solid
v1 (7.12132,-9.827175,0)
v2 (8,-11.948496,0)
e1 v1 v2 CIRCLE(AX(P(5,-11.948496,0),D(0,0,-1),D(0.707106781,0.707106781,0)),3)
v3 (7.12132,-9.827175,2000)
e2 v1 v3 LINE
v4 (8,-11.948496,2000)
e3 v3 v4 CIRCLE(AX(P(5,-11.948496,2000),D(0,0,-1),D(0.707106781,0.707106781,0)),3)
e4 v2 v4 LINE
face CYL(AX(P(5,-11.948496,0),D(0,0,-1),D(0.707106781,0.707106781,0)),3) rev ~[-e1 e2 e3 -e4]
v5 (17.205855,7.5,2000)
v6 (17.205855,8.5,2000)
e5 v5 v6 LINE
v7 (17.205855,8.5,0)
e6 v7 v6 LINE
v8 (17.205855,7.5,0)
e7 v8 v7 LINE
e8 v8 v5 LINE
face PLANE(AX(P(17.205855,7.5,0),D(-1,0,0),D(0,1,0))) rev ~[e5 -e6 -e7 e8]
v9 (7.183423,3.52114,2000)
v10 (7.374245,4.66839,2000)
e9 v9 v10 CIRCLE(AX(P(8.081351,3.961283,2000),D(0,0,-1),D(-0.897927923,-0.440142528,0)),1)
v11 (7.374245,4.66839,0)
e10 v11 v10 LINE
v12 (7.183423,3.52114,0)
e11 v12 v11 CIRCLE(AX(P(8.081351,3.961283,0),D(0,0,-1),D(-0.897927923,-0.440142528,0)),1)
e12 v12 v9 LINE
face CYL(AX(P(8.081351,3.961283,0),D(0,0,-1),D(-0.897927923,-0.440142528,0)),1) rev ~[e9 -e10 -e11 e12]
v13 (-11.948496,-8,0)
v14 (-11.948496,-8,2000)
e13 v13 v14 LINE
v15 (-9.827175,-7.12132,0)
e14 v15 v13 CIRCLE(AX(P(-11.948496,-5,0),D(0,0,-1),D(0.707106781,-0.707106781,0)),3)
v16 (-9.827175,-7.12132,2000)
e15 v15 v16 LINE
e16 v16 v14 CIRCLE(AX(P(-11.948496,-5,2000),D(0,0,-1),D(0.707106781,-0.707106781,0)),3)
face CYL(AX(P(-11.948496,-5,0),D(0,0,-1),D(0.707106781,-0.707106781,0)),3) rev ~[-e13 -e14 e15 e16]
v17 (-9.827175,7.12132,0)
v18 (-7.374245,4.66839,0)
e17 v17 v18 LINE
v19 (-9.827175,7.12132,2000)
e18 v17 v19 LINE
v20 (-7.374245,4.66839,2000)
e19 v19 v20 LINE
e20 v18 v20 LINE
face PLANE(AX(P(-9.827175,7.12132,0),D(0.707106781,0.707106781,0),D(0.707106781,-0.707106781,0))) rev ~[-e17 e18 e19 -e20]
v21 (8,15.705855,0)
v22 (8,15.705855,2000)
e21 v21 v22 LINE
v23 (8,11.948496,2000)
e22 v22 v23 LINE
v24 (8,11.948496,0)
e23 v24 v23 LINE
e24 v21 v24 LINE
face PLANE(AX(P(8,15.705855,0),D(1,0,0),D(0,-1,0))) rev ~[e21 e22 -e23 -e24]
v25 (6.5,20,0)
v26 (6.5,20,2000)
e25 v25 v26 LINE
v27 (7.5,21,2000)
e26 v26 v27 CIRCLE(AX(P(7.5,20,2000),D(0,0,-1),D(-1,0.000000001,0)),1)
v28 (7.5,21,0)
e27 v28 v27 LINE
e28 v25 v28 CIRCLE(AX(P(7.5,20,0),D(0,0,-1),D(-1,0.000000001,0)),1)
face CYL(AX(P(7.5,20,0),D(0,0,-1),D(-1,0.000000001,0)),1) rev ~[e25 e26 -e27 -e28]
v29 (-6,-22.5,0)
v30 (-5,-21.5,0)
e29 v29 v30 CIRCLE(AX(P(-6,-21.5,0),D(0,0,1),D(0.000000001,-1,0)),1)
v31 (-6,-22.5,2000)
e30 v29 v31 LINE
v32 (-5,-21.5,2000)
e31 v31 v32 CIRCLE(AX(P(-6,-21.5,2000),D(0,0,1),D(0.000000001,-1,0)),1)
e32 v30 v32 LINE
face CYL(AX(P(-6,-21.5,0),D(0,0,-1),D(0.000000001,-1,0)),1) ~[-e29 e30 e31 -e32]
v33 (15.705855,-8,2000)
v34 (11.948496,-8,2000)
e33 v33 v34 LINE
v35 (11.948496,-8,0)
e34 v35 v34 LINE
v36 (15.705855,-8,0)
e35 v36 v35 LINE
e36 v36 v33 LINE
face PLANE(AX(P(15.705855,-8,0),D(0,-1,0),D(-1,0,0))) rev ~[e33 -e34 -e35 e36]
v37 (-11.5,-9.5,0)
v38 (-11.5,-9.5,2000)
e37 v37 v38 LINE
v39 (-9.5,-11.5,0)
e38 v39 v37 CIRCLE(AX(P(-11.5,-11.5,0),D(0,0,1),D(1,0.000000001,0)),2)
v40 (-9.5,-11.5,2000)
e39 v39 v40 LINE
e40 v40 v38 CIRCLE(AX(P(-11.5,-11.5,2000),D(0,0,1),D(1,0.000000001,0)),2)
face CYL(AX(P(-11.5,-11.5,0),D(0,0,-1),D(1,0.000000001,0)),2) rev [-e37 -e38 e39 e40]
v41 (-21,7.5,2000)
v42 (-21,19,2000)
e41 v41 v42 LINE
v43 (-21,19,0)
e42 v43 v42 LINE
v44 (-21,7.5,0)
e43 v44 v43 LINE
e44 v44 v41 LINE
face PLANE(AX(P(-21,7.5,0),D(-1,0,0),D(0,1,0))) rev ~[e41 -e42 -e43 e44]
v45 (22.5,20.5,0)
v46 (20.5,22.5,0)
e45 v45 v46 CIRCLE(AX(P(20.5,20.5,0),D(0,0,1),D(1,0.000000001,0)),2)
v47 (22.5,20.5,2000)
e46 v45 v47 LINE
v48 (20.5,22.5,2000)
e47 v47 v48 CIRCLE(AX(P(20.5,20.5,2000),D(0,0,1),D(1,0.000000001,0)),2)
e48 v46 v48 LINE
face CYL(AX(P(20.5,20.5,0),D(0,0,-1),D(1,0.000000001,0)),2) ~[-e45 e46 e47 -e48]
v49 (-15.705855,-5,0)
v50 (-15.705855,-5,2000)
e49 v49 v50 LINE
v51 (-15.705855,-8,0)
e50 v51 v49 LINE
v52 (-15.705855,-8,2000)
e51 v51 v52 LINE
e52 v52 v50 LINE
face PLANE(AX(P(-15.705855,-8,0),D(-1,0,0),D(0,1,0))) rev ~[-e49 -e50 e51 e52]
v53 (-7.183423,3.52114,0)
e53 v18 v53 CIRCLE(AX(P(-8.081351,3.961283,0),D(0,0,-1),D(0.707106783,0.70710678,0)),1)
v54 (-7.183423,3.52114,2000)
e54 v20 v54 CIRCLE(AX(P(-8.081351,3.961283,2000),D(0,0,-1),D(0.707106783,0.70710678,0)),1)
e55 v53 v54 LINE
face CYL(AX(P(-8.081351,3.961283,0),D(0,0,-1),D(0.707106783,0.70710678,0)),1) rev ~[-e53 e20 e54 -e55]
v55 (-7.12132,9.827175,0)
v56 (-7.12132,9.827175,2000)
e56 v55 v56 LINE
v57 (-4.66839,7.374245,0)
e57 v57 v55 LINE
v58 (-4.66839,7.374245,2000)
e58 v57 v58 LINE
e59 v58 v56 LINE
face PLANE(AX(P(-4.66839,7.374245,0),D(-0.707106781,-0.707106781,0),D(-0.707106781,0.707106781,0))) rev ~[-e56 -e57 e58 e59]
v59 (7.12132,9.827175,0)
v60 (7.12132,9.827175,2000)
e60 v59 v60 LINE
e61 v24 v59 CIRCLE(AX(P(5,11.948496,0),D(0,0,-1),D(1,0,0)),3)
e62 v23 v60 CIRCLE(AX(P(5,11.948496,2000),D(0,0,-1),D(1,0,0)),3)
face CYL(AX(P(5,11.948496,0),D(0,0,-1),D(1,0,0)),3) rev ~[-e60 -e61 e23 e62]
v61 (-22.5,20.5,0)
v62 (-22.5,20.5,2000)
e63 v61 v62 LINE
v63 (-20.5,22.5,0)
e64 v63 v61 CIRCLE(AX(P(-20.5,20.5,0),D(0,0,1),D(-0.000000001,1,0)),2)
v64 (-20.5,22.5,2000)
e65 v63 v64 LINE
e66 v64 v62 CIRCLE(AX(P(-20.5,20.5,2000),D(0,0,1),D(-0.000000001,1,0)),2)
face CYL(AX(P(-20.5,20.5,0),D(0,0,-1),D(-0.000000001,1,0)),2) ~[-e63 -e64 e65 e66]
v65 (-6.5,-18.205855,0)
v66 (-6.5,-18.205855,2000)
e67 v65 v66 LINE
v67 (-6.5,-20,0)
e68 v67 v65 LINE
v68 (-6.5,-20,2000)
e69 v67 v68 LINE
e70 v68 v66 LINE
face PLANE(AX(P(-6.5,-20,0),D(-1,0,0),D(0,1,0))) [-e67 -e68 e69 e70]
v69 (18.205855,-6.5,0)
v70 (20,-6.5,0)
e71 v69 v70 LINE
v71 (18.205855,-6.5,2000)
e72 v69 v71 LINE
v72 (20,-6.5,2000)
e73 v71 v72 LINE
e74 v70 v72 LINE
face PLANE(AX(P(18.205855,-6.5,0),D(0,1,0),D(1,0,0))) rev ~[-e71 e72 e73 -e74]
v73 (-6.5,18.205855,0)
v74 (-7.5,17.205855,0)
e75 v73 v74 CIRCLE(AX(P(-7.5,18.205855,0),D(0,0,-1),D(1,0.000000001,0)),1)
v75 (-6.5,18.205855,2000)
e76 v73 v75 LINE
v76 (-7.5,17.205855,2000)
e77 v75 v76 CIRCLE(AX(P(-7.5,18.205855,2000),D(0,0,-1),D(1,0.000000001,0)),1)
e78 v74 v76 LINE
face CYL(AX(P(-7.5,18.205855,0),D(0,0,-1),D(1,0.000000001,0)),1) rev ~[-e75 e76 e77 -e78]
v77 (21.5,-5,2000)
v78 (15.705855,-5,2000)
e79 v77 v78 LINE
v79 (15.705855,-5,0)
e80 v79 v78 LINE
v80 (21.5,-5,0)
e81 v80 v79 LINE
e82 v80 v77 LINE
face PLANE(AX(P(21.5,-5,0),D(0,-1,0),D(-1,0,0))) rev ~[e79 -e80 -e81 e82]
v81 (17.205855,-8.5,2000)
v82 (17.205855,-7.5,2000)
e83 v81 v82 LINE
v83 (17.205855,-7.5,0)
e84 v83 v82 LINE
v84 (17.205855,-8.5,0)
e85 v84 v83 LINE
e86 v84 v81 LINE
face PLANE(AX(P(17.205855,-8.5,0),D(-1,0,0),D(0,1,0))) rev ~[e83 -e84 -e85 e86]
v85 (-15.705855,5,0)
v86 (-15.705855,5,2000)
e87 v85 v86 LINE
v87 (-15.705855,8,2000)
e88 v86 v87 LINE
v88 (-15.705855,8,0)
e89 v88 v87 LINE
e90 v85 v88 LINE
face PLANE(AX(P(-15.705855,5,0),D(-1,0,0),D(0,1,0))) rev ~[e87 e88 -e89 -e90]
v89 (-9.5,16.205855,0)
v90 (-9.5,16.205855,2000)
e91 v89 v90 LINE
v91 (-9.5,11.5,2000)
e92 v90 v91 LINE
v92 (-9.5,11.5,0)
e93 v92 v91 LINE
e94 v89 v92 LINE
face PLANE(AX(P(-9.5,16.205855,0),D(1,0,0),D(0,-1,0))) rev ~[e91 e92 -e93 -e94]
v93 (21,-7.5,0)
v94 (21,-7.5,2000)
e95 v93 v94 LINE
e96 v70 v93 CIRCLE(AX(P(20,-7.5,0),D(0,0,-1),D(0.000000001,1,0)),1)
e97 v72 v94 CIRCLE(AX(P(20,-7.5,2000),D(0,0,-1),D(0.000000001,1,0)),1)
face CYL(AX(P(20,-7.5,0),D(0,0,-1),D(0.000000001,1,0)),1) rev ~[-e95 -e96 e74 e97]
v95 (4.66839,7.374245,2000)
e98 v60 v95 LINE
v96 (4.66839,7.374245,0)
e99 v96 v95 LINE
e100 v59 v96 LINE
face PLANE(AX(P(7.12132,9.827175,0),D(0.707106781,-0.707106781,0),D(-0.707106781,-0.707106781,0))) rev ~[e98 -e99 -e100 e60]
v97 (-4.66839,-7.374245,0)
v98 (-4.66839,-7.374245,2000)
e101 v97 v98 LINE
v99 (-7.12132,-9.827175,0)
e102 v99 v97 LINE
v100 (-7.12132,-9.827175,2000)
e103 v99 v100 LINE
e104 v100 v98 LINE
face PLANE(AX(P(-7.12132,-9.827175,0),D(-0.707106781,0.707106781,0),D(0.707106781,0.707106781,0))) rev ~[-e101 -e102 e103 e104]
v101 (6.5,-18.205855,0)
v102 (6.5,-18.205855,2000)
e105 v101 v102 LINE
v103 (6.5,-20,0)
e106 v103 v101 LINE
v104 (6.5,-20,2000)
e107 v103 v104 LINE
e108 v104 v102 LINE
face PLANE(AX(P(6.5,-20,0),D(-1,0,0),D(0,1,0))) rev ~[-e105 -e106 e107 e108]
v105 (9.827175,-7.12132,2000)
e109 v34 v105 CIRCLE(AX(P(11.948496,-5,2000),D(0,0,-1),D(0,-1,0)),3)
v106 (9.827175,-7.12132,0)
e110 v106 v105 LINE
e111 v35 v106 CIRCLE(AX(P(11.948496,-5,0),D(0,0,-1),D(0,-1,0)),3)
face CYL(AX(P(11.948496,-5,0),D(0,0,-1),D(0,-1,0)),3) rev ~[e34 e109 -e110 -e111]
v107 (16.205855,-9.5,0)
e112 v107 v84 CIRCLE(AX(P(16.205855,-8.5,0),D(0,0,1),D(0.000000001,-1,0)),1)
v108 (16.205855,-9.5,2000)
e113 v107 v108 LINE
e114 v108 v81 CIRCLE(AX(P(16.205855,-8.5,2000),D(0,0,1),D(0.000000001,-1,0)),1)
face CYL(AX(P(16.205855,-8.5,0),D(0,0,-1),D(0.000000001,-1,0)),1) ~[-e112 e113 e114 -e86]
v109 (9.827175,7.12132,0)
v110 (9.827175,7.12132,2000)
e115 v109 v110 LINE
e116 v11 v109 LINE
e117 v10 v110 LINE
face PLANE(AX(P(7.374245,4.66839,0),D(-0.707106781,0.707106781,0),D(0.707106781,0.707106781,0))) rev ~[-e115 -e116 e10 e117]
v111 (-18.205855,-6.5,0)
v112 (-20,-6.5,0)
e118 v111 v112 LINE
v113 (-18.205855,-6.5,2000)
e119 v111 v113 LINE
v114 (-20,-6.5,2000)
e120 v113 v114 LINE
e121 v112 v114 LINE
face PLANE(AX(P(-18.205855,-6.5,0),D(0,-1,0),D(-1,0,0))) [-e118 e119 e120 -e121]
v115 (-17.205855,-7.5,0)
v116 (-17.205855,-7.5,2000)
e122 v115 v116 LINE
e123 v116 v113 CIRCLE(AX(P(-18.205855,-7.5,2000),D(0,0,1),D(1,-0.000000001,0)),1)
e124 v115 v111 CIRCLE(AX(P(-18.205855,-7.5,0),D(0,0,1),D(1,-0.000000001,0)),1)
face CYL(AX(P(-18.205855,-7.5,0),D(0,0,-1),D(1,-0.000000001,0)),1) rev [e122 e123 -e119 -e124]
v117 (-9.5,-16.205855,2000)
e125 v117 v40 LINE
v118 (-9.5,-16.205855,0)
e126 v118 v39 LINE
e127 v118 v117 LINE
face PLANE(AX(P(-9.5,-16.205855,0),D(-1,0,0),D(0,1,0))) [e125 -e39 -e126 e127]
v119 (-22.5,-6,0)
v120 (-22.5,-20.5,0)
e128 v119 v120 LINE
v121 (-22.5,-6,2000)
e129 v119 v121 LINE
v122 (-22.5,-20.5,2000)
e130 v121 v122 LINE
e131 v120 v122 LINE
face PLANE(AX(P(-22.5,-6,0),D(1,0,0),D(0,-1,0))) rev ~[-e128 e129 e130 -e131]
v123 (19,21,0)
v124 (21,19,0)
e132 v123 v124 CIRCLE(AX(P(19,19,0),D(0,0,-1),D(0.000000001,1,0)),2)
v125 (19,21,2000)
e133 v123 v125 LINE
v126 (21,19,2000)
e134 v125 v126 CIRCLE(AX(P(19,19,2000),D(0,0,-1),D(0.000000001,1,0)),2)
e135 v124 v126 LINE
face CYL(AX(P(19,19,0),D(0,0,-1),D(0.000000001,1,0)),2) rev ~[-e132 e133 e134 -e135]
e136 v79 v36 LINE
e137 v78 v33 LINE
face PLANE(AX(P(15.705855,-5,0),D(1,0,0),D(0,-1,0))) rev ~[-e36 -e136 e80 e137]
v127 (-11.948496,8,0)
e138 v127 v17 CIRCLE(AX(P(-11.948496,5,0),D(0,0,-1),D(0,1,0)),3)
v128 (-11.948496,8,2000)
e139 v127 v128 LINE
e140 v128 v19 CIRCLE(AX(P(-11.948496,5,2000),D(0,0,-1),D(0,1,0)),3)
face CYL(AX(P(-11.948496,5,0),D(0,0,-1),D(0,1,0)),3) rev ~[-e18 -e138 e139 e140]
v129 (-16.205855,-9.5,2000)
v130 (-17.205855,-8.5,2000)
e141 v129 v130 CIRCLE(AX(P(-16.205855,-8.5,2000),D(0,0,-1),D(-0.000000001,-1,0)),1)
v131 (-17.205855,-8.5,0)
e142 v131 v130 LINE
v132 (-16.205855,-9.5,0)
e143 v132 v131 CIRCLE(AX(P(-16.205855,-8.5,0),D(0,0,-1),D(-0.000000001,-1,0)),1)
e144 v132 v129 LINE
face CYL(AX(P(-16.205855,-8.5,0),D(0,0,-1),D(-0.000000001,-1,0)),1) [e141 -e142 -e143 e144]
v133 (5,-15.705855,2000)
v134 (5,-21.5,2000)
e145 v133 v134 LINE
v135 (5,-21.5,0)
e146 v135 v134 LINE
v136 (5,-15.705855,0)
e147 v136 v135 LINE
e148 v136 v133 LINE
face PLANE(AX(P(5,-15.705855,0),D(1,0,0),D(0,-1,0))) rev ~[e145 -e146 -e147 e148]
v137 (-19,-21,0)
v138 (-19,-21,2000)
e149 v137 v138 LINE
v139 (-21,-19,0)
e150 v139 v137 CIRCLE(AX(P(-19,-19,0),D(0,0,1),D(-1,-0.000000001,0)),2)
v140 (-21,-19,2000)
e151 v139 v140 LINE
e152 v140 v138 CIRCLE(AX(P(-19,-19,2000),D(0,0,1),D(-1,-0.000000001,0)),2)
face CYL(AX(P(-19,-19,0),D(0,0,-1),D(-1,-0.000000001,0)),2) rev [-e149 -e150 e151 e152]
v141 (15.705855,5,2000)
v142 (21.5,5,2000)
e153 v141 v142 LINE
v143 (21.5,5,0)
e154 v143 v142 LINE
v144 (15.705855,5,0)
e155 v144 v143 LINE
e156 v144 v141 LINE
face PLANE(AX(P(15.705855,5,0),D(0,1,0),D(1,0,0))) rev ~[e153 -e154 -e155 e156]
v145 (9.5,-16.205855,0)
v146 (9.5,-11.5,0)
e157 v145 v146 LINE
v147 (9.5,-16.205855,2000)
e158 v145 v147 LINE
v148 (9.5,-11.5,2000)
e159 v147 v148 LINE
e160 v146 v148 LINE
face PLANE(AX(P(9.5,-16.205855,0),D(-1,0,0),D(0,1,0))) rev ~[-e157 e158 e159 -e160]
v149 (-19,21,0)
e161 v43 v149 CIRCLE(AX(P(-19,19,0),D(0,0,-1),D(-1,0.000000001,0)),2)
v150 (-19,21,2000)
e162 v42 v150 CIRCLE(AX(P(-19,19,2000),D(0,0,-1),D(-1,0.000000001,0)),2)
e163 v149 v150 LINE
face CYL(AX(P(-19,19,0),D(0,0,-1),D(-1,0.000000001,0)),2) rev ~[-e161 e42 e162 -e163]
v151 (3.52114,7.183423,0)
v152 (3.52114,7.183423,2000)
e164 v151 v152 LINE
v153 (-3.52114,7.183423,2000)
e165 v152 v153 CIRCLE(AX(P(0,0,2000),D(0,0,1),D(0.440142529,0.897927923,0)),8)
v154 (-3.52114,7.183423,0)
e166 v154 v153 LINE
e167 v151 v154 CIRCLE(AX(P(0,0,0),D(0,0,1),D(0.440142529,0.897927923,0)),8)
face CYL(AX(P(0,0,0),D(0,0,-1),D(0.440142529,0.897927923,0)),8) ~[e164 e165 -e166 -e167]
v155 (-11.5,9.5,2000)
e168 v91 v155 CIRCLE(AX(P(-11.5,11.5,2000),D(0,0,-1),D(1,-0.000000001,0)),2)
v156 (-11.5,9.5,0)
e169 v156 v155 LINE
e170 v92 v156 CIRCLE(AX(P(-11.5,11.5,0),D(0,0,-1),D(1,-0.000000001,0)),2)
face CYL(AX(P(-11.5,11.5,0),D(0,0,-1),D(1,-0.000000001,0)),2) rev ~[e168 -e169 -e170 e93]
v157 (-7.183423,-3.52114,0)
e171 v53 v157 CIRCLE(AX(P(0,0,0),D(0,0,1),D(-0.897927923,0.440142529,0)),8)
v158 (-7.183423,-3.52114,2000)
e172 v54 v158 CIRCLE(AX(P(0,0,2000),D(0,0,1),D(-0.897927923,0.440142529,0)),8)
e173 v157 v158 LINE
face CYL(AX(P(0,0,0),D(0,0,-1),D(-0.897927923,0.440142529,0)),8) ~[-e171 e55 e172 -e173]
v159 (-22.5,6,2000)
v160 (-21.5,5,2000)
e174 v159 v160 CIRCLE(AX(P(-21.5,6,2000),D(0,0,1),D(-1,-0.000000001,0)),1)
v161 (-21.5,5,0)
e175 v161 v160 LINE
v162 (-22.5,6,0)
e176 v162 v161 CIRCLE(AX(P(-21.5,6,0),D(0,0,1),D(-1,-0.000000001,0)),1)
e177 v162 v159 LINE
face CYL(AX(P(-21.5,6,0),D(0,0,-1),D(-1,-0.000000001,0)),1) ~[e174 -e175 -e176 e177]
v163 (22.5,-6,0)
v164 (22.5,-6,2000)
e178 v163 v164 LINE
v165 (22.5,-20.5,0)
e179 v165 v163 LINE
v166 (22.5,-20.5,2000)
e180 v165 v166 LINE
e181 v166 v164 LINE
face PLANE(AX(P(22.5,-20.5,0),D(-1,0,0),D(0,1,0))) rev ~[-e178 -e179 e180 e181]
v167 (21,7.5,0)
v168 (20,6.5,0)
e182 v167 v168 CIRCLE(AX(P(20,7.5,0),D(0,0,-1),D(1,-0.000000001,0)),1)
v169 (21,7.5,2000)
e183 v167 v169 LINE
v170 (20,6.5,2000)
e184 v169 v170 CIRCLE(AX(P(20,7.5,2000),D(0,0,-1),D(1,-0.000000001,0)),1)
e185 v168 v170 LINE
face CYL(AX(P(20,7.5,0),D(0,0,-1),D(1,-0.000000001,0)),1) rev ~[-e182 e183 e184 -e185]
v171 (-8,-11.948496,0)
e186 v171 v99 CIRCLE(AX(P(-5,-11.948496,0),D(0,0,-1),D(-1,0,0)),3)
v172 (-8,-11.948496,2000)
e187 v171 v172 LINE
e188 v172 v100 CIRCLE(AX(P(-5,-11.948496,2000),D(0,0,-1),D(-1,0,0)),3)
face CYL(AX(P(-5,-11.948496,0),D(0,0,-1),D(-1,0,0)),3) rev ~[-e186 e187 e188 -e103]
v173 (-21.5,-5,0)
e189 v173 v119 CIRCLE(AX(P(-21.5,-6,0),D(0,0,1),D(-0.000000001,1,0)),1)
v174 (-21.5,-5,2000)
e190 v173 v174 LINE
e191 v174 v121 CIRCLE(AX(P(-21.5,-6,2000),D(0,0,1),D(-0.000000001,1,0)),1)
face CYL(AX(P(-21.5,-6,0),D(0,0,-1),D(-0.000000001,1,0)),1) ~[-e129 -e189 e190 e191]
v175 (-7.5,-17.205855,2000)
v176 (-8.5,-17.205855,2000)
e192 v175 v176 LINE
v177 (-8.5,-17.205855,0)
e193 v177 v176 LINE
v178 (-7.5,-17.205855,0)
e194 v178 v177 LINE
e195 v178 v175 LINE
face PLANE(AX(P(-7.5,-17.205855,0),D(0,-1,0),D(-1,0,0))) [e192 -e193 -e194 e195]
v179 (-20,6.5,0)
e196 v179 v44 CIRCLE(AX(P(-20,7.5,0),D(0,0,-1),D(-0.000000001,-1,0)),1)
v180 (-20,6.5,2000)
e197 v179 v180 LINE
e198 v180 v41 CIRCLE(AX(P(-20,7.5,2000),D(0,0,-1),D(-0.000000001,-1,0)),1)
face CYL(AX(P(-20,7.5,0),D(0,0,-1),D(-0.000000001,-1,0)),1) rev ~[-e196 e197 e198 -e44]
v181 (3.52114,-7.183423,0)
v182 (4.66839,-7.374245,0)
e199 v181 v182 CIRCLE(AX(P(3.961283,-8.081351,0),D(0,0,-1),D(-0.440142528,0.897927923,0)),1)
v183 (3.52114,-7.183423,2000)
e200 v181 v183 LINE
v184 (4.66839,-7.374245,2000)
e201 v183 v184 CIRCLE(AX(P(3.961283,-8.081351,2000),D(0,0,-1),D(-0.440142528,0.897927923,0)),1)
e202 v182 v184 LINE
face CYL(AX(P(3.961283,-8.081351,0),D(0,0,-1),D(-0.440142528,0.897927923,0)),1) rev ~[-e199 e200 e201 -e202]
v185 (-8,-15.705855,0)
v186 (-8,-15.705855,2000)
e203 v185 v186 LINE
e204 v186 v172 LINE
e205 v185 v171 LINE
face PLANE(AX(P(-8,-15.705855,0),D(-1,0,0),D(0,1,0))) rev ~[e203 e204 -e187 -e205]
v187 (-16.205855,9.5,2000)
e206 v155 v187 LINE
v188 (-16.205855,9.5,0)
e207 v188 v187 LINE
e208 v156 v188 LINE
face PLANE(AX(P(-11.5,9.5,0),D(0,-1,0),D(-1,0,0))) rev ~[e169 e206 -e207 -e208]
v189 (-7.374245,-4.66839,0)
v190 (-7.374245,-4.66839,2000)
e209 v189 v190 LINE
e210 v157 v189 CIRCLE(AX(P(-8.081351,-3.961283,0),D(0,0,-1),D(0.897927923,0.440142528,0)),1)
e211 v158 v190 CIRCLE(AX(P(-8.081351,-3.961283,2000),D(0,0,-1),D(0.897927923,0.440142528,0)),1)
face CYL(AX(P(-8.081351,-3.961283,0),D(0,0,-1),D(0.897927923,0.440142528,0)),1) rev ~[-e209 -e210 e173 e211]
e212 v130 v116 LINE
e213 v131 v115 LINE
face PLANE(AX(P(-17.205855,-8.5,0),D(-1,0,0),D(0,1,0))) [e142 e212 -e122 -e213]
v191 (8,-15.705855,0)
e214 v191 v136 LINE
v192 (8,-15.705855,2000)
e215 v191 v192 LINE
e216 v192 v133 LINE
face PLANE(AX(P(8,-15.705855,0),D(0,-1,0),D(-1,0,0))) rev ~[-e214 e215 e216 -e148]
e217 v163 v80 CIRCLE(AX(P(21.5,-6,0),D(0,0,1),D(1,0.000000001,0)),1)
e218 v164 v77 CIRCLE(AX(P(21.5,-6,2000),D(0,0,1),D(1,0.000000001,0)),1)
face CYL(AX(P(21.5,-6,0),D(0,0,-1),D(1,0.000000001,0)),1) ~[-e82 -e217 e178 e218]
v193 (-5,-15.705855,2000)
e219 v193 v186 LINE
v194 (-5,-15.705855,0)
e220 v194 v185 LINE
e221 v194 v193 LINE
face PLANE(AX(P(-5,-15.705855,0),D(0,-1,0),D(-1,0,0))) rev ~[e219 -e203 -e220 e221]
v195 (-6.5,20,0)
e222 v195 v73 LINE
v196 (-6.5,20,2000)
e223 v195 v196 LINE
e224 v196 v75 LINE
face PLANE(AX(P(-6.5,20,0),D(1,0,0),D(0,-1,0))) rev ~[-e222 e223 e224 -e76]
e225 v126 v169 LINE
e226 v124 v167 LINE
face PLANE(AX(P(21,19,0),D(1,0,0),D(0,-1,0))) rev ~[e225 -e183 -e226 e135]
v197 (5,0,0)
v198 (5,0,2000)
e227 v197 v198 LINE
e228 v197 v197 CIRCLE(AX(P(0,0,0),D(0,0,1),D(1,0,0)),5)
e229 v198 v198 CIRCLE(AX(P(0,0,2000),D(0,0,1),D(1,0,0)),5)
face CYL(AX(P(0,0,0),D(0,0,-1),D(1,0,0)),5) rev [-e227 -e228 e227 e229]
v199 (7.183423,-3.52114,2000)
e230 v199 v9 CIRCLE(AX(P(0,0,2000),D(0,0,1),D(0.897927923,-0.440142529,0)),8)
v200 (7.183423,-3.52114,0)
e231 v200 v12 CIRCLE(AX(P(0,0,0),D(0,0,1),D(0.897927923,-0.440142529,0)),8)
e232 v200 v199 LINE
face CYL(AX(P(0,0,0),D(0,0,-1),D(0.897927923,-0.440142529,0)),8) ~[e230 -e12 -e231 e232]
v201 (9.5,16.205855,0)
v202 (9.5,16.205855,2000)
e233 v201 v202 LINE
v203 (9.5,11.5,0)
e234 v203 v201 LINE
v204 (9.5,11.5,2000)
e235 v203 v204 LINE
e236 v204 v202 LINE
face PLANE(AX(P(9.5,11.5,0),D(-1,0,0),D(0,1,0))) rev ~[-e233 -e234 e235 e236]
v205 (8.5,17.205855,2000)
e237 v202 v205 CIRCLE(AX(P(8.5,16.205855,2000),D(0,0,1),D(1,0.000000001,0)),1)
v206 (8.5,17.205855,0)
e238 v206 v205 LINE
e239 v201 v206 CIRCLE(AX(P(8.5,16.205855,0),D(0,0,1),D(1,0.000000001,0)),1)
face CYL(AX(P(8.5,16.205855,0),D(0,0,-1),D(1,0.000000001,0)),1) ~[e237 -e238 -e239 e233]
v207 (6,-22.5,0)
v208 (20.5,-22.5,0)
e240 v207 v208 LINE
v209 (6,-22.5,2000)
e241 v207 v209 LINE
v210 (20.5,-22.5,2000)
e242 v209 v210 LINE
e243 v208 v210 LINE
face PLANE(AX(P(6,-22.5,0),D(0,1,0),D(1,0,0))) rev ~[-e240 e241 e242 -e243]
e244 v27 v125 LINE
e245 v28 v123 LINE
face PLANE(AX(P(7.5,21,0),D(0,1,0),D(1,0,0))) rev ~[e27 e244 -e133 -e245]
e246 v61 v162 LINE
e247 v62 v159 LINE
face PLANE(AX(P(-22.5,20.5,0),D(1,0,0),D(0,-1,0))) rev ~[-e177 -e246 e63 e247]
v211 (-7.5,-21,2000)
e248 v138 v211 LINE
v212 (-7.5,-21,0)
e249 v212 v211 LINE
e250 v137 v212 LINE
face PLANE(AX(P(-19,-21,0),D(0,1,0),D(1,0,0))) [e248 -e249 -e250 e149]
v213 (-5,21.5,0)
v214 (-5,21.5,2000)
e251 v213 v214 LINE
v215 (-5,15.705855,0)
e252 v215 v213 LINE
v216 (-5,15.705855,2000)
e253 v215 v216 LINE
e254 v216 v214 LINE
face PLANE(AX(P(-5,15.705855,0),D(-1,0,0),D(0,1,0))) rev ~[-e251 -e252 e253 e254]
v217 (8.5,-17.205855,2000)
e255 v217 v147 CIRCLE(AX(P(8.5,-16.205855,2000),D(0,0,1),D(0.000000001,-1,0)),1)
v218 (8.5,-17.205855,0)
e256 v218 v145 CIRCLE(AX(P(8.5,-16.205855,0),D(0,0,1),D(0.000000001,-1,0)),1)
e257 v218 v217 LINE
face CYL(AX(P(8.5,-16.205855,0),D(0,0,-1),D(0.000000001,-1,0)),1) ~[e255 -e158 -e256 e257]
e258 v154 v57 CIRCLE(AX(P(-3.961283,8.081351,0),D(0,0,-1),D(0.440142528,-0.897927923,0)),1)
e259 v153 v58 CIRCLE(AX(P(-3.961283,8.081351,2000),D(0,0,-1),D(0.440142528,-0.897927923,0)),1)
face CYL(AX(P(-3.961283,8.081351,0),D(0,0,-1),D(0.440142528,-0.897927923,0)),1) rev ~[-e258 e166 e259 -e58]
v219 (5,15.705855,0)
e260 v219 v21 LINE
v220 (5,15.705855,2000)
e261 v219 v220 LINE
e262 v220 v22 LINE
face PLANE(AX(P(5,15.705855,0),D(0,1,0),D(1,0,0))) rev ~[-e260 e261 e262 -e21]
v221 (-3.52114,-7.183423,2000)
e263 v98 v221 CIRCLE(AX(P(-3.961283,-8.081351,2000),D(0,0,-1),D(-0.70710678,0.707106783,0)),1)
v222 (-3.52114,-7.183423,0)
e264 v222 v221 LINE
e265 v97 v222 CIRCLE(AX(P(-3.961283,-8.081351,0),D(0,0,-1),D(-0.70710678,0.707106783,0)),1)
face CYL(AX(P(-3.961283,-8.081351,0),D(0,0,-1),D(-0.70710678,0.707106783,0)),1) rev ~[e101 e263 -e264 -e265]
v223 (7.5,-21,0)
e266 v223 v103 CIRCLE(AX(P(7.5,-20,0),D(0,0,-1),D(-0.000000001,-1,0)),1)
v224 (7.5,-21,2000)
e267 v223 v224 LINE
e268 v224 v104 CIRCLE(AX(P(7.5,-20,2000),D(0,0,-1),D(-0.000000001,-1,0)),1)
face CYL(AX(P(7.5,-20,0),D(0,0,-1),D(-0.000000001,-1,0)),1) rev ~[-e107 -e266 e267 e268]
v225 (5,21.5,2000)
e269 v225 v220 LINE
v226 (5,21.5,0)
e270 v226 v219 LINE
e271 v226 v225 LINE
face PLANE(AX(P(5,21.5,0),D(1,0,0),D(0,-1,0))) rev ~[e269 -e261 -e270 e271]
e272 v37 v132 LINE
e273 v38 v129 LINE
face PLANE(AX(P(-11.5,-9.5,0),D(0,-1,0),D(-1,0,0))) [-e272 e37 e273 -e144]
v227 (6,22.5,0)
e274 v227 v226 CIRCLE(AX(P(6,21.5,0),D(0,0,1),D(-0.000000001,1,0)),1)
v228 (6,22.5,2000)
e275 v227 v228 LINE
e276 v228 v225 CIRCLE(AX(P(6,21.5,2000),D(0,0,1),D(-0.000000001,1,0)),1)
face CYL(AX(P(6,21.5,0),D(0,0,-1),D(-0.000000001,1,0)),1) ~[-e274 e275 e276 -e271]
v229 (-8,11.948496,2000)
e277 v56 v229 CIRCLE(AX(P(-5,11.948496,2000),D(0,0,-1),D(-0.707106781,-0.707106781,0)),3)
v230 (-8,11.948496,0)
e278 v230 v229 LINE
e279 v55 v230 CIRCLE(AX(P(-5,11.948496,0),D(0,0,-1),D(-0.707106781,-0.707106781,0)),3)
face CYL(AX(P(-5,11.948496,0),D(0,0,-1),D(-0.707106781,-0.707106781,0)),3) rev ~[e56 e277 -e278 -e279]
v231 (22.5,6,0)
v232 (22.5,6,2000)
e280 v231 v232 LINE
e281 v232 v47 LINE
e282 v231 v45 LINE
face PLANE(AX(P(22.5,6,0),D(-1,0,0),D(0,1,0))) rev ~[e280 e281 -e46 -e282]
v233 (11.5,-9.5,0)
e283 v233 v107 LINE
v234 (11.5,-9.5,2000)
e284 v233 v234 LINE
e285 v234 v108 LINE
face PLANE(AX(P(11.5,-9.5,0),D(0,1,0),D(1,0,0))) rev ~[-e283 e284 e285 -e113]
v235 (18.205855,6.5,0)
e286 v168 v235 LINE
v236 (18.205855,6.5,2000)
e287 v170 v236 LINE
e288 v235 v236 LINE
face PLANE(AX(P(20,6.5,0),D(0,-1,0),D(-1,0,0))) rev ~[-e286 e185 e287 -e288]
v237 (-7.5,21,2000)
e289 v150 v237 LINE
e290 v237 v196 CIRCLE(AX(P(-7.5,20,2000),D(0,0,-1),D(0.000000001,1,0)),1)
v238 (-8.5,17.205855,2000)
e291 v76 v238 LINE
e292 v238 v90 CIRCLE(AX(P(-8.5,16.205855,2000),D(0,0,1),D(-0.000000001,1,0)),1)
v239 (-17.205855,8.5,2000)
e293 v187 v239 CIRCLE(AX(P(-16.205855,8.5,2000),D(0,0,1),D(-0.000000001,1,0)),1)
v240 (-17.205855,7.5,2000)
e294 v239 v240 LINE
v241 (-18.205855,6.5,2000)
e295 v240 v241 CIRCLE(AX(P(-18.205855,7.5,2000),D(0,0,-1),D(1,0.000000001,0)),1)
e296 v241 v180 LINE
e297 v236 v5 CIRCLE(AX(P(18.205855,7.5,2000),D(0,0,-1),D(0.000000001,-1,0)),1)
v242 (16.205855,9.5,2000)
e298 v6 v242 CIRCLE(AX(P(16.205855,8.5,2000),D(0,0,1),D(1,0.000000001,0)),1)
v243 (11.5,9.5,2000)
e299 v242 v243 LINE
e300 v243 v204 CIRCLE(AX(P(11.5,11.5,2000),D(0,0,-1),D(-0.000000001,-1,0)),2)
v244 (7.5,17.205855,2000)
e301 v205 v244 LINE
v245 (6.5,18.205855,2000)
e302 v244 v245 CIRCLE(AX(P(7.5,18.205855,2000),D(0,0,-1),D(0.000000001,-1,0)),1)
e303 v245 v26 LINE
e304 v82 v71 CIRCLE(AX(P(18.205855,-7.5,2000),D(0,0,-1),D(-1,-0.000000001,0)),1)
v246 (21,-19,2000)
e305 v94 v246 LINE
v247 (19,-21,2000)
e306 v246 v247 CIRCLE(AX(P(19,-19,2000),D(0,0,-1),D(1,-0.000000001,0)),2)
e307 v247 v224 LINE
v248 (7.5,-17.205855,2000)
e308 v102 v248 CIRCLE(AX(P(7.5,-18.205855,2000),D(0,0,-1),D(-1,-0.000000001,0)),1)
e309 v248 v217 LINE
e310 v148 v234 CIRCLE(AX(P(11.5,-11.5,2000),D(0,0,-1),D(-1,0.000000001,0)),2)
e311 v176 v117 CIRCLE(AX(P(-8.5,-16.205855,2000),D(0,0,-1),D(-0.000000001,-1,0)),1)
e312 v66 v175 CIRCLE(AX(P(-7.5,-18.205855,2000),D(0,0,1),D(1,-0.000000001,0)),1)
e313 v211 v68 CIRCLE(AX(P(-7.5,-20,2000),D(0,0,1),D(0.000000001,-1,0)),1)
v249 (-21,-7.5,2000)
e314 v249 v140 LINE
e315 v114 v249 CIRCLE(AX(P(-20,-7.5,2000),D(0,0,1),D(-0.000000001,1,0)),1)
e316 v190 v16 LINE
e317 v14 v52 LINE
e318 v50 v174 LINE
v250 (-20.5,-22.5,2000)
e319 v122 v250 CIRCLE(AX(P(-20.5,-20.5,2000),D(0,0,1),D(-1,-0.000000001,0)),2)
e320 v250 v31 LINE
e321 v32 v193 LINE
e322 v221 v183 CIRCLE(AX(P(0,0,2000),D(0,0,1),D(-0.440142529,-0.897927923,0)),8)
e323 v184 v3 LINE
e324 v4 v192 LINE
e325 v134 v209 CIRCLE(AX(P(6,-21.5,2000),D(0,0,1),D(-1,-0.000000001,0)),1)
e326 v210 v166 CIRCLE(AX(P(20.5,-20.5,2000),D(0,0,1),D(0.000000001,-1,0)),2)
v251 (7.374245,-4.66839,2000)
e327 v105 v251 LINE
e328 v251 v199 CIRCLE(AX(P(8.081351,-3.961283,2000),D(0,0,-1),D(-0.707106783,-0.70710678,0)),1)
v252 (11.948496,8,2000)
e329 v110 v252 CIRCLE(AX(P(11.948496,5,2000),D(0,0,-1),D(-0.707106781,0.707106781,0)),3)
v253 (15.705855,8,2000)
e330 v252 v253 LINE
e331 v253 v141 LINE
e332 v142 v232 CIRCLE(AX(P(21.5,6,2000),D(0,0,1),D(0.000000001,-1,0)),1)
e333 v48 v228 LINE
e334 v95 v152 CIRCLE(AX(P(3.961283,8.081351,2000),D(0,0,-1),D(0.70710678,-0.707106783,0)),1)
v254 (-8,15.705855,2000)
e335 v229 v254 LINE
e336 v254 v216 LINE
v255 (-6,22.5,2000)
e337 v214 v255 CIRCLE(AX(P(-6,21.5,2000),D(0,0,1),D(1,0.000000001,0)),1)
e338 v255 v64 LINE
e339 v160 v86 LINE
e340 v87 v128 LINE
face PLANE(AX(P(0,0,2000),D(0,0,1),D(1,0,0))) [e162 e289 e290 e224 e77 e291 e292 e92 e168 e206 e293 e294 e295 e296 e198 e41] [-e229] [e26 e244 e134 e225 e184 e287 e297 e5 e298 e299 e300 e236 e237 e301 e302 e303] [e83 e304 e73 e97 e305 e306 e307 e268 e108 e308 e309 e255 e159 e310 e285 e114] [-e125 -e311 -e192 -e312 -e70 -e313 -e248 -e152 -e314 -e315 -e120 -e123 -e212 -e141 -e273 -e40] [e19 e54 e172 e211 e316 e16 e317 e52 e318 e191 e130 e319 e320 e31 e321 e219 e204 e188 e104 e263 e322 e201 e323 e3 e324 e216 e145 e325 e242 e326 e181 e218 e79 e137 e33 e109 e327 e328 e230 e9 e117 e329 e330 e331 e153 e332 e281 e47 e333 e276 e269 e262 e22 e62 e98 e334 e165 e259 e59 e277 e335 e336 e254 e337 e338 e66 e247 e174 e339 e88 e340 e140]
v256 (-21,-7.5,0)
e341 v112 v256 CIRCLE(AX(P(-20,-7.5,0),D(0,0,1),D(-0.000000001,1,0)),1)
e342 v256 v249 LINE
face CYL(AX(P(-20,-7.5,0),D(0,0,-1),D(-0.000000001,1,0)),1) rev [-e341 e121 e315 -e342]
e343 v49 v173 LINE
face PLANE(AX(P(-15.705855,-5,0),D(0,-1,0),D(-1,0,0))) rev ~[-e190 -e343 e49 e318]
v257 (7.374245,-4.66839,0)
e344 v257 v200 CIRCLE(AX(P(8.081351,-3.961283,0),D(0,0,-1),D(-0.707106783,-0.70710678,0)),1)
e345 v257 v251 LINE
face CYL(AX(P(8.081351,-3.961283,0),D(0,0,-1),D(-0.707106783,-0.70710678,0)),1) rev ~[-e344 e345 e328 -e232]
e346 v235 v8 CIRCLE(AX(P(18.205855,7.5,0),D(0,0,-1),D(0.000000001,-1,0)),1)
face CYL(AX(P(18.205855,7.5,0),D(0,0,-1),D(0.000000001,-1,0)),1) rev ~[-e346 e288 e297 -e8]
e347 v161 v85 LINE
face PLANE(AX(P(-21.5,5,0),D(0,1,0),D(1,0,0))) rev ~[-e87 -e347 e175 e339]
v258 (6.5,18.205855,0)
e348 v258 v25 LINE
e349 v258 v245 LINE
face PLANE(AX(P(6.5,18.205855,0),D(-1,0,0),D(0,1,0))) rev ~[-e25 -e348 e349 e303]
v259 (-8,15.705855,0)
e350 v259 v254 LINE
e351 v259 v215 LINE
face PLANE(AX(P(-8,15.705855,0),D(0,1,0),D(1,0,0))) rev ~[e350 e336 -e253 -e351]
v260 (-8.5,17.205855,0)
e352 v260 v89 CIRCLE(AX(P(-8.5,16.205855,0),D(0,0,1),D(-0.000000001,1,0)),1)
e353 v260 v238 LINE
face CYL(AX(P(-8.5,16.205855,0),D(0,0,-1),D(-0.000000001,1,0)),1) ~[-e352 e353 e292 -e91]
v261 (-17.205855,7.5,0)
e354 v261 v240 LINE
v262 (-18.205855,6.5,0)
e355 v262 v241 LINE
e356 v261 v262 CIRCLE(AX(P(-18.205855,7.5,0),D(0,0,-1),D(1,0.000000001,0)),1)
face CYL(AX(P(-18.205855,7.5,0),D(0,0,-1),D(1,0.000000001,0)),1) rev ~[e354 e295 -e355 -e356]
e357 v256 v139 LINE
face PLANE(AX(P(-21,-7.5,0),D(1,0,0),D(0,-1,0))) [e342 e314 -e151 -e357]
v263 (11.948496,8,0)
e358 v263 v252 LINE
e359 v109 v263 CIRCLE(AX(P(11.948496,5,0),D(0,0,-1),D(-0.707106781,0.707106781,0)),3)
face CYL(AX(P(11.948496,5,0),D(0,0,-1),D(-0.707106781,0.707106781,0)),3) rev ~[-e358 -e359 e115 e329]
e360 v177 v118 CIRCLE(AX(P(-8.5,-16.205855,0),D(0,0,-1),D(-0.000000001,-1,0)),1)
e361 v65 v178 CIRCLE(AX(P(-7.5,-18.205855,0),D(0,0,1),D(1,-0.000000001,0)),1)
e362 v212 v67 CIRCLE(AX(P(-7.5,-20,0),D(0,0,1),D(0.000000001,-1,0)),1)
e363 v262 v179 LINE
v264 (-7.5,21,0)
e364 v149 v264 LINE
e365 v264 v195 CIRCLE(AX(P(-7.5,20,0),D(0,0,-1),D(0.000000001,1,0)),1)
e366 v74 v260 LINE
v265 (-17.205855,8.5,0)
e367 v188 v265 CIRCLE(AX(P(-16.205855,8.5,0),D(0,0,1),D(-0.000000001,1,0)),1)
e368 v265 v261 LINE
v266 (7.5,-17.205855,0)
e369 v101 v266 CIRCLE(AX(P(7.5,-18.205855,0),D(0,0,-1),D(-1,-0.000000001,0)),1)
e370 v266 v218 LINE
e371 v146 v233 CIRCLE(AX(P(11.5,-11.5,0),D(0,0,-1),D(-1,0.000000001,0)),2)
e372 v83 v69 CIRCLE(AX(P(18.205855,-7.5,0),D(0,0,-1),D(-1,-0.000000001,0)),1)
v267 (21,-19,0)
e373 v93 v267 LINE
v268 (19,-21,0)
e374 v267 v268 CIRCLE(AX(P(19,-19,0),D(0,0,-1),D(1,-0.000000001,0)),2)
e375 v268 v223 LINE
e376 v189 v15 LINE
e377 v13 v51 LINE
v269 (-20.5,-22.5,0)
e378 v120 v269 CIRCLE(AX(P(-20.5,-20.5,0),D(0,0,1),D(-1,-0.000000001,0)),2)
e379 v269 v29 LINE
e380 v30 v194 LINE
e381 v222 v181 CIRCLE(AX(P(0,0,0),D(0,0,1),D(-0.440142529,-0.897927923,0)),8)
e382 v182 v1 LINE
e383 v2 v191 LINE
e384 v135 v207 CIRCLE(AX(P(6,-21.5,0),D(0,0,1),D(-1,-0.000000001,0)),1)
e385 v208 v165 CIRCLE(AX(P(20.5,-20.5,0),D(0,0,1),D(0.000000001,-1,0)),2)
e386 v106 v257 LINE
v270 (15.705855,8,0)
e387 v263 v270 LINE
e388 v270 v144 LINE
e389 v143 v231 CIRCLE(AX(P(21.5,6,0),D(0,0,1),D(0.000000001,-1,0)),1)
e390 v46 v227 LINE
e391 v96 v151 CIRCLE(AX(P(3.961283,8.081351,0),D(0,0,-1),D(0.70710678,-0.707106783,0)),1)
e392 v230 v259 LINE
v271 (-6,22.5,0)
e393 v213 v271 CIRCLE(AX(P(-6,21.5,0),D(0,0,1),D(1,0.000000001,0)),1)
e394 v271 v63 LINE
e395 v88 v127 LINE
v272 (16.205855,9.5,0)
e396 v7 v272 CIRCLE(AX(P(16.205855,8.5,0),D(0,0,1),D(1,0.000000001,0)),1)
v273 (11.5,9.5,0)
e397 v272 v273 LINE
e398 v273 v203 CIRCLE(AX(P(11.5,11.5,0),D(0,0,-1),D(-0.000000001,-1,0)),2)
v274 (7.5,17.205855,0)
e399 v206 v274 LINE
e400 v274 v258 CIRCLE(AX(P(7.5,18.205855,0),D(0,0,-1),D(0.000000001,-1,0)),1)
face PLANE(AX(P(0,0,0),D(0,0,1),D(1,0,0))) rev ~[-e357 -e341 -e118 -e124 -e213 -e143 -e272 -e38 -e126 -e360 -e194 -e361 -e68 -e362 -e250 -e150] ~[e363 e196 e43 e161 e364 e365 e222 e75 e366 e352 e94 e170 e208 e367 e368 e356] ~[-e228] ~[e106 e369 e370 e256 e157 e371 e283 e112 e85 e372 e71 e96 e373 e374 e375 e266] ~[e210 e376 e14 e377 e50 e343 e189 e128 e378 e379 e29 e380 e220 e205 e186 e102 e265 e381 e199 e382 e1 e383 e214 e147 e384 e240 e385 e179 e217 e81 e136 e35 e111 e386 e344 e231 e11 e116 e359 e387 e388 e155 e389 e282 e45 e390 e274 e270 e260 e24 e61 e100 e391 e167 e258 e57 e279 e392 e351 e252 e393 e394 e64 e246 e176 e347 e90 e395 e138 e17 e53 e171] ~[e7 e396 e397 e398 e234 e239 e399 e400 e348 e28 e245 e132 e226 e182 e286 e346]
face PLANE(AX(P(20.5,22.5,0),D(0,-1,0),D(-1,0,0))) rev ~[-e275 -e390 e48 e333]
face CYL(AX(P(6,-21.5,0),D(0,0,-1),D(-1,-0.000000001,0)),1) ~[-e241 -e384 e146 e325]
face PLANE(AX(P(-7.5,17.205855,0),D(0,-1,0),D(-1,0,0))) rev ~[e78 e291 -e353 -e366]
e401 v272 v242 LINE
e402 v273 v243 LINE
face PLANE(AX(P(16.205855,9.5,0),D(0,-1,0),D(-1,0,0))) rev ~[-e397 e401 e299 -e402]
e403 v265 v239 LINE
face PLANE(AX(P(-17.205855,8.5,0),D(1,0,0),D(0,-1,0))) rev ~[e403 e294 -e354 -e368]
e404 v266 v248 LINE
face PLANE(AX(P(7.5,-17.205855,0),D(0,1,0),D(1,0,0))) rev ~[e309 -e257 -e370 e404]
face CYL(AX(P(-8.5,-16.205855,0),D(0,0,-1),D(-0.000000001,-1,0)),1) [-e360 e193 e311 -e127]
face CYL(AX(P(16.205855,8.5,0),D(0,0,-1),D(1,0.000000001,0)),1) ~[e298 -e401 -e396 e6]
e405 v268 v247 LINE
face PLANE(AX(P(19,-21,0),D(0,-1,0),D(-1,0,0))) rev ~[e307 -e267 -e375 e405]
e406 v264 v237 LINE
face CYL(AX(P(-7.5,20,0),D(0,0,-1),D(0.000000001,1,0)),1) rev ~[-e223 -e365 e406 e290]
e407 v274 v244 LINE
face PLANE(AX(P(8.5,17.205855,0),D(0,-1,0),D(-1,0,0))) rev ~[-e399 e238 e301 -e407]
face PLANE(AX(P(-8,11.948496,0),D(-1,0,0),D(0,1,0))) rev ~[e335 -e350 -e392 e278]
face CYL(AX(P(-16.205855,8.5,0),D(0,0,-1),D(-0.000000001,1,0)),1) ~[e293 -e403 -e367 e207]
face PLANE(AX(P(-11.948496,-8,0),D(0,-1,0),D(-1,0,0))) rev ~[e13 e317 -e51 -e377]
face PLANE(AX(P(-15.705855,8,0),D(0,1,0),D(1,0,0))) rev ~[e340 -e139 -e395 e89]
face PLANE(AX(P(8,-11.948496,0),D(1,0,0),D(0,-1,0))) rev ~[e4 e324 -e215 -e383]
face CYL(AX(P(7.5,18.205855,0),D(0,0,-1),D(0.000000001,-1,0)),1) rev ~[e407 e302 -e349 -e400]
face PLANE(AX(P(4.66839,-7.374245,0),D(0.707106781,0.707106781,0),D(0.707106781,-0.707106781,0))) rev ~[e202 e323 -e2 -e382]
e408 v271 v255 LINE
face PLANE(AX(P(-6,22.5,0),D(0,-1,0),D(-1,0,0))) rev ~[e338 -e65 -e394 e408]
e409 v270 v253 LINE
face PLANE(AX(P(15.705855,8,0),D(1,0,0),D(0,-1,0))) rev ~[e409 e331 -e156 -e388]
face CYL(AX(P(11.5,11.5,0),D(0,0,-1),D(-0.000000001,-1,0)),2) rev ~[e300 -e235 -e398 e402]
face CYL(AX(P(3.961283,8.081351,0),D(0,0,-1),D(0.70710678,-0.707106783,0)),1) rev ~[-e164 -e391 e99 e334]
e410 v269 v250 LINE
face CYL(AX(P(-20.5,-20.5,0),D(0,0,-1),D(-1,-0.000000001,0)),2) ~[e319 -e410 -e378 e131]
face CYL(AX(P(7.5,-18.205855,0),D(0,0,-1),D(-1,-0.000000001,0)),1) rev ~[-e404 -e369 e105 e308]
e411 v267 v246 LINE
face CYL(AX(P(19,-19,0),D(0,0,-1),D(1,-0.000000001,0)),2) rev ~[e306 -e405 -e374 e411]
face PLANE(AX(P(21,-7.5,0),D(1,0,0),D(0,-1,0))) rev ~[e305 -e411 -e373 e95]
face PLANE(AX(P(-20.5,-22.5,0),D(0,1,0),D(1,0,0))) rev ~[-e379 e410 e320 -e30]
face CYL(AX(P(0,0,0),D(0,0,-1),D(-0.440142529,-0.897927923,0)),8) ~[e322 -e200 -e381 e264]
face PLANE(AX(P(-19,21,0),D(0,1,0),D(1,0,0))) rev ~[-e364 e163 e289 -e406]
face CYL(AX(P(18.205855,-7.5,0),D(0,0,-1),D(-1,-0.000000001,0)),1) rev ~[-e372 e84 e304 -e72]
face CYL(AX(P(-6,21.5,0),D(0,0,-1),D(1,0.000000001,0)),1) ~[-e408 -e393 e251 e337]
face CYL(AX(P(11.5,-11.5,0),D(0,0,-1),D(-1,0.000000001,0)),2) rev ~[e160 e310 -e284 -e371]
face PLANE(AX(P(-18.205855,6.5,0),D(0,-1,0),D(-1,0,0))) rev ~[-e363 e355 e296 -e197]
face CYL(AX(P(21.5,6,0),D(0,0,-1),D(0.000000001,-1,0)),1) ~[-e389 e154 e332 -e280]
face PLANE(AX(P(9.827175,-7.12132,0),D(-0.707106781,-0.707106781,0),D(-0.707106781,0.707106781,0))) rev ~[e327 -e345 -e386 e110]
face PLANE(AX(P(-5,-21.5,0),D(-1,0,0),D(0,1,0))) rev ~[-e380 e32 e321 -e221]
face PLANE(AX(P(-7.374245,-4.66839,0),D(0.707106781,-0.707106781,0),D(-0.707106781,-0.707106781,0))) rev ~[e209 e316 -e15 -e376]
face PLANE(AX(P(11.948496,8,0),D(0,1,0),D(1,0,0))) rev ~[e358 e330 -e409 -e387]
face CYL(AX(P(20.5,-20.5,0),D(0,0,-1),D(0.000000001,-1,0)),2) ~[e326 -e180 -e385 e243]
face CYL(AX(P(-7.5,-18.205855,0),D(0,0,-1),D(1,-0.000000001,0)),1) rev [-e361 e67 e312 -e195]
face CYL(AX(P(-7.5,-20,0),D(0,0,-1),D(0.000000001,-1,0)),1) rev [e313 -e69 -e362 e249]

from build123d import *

# Parameters (mm, degrees)
SKETCH1_R           = 5
BOSS_EXTRUDE1_DEPTH = 2000


with BuildPart() as part:
    # Sketch1 → Boss-Extrude1 (new body)
    with BuildSketch(Plane.XY):
        with BuildLine():
            Line((-5, -15.705854984), (-8, -15.705854984))
            Line((-8, -15.705854984), (-8, -11.948495671))
            ThreePointArc((-8, -11.948495671), (-7.771638598, -10.800445374), (-7.121320344, -9.827175327))
            Line((-7.121320344, -9.827175327), (-4.66838954, -7.374244523))
            ThreePointArc((-4.66838954, -7.374244523), (-4.125357909, -7.094903463), (-3.52114023, -7.183423382))
            ThreePointArc((-3.52114023, -7.183423382), (0, -8), (3.52114023, -7.183423382))
            ThreePointArc((3.52114023, -7.183423382), (4.125357909, -7.094903463), (4.66838954, -7.374244523))
            Line((4.66838954, -7.374244523), (7.121320344, -9.827175327))
            ThreePointArc((7.121320344, -9.827175327), (7.771638598, -10.800445374), (8, -11.948495671))
            Line((8, -11.948495671), (8, -15.705854984))
            Line((8, -15.705854984), (5, -15.705854984))
            Line((5, -15.705854984), (5, -21.5))
            ThreePointArc((5, -21.5), (5.292893219, -22.207106781), (6, -22.5))
            Line((6, -22.5), (20.5, -22.5))
            ThreePointArc((20.5, -22.5), (21.914213562, -21.914213562), (22.5, -20.5))
            Line((22.5, -20.5), (22.5, -6))
            ThreePointArc((22.5, -6), (22.207106781, -5.292893219), (21.5, -5))
            Line((21.5, -5), (15.705854984, -5))
            Line((15.705854984, -5), (15.705854984, -8))
            Line((15.705854984, -8), (11.948495671, -8))
            ThreePointArc((11.948495671, -8), (10.800445374, -7.771638598), (9.827175327, -7.121320344))
            Line((9.827175327, -7.121320344), (7.374244523, -4.66838954))
            ThreePointArc((7.374244523, -4.66838954), (7.094903463, -4.125357909), (7.183423382, -3.52114023))
            ThreePointArc((7.183423382, -3.52114023), (8, 0), (7.183423382, 3.52114023))
            ThreePointArc((7.183423382, 3.52114023), (7.094903463, 4.125357909), (7.374244523, 4.66838954))
            Line((7.374244523, 4.66838954), (9.827175327, 7.121320344))
            ThreePointArc((9.827175327, 7.121320344), (10.800445374, 7.771638598), (11.948495671, 8))
            Line((11.948495671, 8), (15.705854984, 8))
            Line((15.705854984, 8), (15.705854984, 5))
            Line((15.705854984, 5), (21.5, 5))
            ThreePointArc((21.5, 5), (22.207106781, 5.292893219), (22.5, 6))
            Line((22.5, 6), (22.5, 20.5))
            ThreePointArc((22.5, 20.5), (21.914213562, 21.914213562), (20.5, 22.5))
            Line((20.5, 22.5), (6, 22.5))
            ThreePointArc((6, 22.5), (5.292893219, 22.207106781), (5, 21.5))
            Line((5, 21.5), (5, 15.705854984))
            Line((5, 15.705854984), (8, 15.705854984))
            Line((8, 15.705854984), (8, 11.948495671))
            ThreePointArc((8, 11.948495671), (7.771638598, 10.800445374), (7.121320344, 9.827175327))
            Line((7.121320344, 9.827175327), (4.66838954, 7.374244523))
            ThreePointArc((4.66838954, 7.374244523), (4.125357909, 7.094903463), (3.52114023, 7.183423382))
            ThreePointArc((3.52114023, 7.183423382), (0, 8), (-3.52114023, 7.183423382))
            ThreePointArc((-3.52114023, 7.183423382), (-4.125357909, 7.094903463), (-4.66838954, 7.374244523))
            Line((-4.66838954, 7.374244523), (-7.121320344, 9.827175327))
            ThreePointArc((-7.121320344, 9.827175327), (-7.771638598, 10.800445374), (-8, 11.948495671))
            Line((-8, 11.948495671), (-8, 15.705854984))
            Line((-8, 15.705854984), (-5, 15.705854984))
            Line((-5, 15.705854984), (-5, 21.5))
            ThreePointArc((-5, 21.5), (-5.292893219, 22.207106781), (-6, 22.5))
            Line((-6, 22.5), (-20.5, 22.5))
            ThreePointArc((-20.5, 22.5), (-21.914213562, 21.914213562), (-22.5, 20.5))
            Line((-22.5, 20.5), (-22.5, 6))
            ThreePointArc((-22.5, 6), (-22.207106781, 5.292893219), (-21.5, 5))
            Line((-21.5, 5), (-15.705854984, 5))
            Line((-15.705854984, 5), (-15.705854984, 8))
            Line((-15.705854984, 8), (-11.948495671, 8))
            ThreePointArc((-11.948495671, 8), (-10.800445374, 7.771638598), (-9.827175327, 7.121320344))
            Line((-9.827175327, 7.121320344), (-7.374244523, 4.66838954))
            ThreePointArc((-7.374244523, 4.66838954), (-7.094903463, 4.125357909), (-7.183423382, 3.52114023))
            ThreePointArc((-7.183423382, 3.52114023), (-8, 0), (-7.183423382, -3.52114023))
            ThreePointArc((-7.183423382, -3.52114023), (-7.094903463, -4.125357909), (-7.374244523, -4.66838954))
            Line((-7.374244523, -4.66838954), (-9.827175327, -7.121320344))
            ThreePointArc((-9.827175327, -7.121320344), (-10.800445374, -7.771638598), (-11.948495671, -8))
            Line((-11.948495671, -8), (-15.705854984, -8))
            Line((-15.705854984, -8), (-15.705854984, -5))
            Line((-15.705854984, -5), (-21.5, -5))
            ThreePointArc((-21.5, -5), (-22.207106781, -5.292893219), (-22.5, -6))
            Line((-22.5, -6), (-22.5, -20.5))
            ThreePointArc((-22.5, -20.5), (-21.914213562, -21.914213562), (-20.5, -22.5))
            Line((-20.5, -22.5), (-6, -22.5))
            ThreePointArc((-6, -22.5), (-5.292893219, -22.207106781), (-5, -21.5))
            Line((-5, -21.5), (-5, -15.705854984))
        make_face()
        Circle(SKETCH1_R, mode=Mode.SUBTRACT)
        with BuildLine():
            Line((-19, -21), (-7.5, -21))
            ThreePointArc((-7.5, -21), (-6.792893219, -20.707106781), (-6.5, -20))
            Line((-6.5, -20), (-6.5, -18.205854984))
            ThreePointArc((-6.5, -18.205854984), (-6.792893219, -17.498748202), (-7.5, -17.205854984))
            Line((-7.5, -17.205854984), (-8.5, -17.205854984))
            ThreePointArc((-8.5, -17.205854984), (-9.207106781, -16.912961765), (-9.5, -16.205854984))
            Line((-9.5, -16.205854984), (-9.5, -11.5))
            ThreePointArc((-9.5, -11.5), (-10.085786438, -10.085786438), (-11.5, -9.5))
            Line((-11.5, -9.5), (-16.205854984, -9.5))
            ThreePointArc((-16.205854984, -9.5), (-16.912961765, -9.207106781), (-17.205854984, -8.5))
            Line((-17.205854984, -8.5), (-17.205854984, -7.5))
            ThreePointArc((-17.205854984, -7.5), (-17.498748202, -6.792893219), (-18.205854984, -6.5))
            Line((-18.205854984, -6.5), (-20, -6.5))
            ThreePointArc((-20, -6.5), (-20.707106781, -6.792893219), (-21, -7.5))
            Line((-21, -7.5), (-21, -19))
            ThreePointArc((-21, -19), (-20.414213562, -20.414213562), (-19, -21))
        make_face(mode=Mode.SUBTRACT)
        with BuildLine():
            Line((-9.5, 16.205854984), (-9.5, 11.5))
            ThreePointArc((-9.5, 11.5), (-10.085786438, 10.085786438), (-11.5, 9.5))
            Line((-11.5, 9.5), (-16.205854984, 9.5))
            ThreePointArc((-16.205854984, 9.5), (-16.912961765, 9.207106781), (-17.205854984, 8.5))
            Line((-17.205854984, 8.5), (-17.205854984, 7.5))
            ThreePointArc((-17.205854984, 7.5), (-17.498748202, 6.792893219), (-18.205854984, 6.5))
            Line((-18.205854984, 6.5), (-20, 6.5))
            ThreePointArc((-20, 6.5), (-20.707106781, 6.792893219), (-21, 7.5))
            Line((-21, 7.5), (-21, 19))
            ThreePointArc((-21, 19), (-20.414213562, 20.414213562), (-19, 21))
            Line((-19, 21), (-7.5, 21))
            ThreePointArc((-7.5, 21), (-6.792893219, 20.707106781), (-6.5, 20))
            Line((-6.5, 20), (-6.5, 18.205854984))
            ThreePointArc((-6.5, 18.205854984), (-6.792893219, 17.498748202), (-7.5, 17.205854984))
            Line((-7.5, 17.205854984), (-8.5, 17.205854984))
            ThreePointArc((-8.5, 17.205854984), (-9.207106781, 16.912961765), (-9.5, 16.205854984))
        make_face(mode=Mode.SUBTRACT)
        with BuildLine():
            Line((16.205854984, 9.5), (11.5, 9.5))
            ThreePointArc((11.5, 9.5), (10.085786438, 10.085786438), (9.5, 11.5))
            Line((9.5, 11.5), (9.5, 16.205854984))
            ThreePointArc((9.5, 16.205854984), (9.207106781, 16.912961765), (8.5, 17.205854984))
            Line((8.5, 17.205854984), (7.5, 17.205854984))
            ThreePointArc((7.5, 17.205854984), (6.792893219, 17.498748202), (6.5, 18.205854984))
            Line((6.5, 18.205854984), (6.5, 20))
            ThreePointArc((6.5, 20), (6.792893219, 20.707106781), (7.5, 21))
            Line((7.5, 21), (19, 21))
            ThreePointArc((19, 21), (20.414213562, 20.414213562), (21, 19))
            Line((21, 19), (21, 7.5))
            ThreePointArc((21, 7.5), (20.707106781, 6.792893219), (20, 6.5))
            Line((20, 6.5), (18.205854984, 6.5))
            ThreePointArc((18.205854984, 6.5), (17.498748202, 6.792893219), (17.205854984, 7.5))
            Line((17.205854984, 7.5), (17.205854984, 8.5))
            ThreePointArc((17.205854984, 8.5), (16.912961765, 9.207106781), (16.205854984, 9.5))
        make_face(mode=Mode.SUBTRACT)
        with BuildLine():
            Line((9.5, -16.205854984), (9.5, -11.5))
            ThreePointArc((9.5, -11.5), (10.085786438, -10.085786438), (11.5, -9.5))
            Line((11.5, -9.5), (16.205854984, -9.5))
            ThreePointArc((16.205854984, -9.5), (16.912961765, -9.207106781), (17.205854984, -8.5))
            Line((17.205854984, -8.5), (17.205854984, -7.5))
            ThreePointArc((17.205854984, -7.5), (17.498748202, -6.792893219), (18.205854984, -6.5))
            Line((18.205854984, -6.5), (20, -6.5))
            ThreePointArc((20, -6.5), (20.707106781, -6.792893219), (21, -7.5))
            Line((21, -7.5), (21, -19))
            ThreePointArc((21, -19), (20.414213562, -20.414213562), (19, -21))
            Line((19, -21), (7.5, -21))
            ThreePointArc((7.5, -21), (6.792893219, -20.707106781), (6.5, -20))
            Line((6.5, -20), (6.5, -18.205854984))
            ThreePointArc((6.5, -18.205854984), (6.792893219, -17.498748202), (7.5, -17.205854984))
            Line((7.5, -17.205854984), (8.5, -17.205854984))
            ThreePointArc((8.5, -17.205854984), (9.207106781, -16.912961765), (9.5, -16.205854984))
        make_face(mode=Mode.SUBTRACT)
    extrude(amount=BOSS_EXTRUDE1_DEPTH)


solid = part.part
